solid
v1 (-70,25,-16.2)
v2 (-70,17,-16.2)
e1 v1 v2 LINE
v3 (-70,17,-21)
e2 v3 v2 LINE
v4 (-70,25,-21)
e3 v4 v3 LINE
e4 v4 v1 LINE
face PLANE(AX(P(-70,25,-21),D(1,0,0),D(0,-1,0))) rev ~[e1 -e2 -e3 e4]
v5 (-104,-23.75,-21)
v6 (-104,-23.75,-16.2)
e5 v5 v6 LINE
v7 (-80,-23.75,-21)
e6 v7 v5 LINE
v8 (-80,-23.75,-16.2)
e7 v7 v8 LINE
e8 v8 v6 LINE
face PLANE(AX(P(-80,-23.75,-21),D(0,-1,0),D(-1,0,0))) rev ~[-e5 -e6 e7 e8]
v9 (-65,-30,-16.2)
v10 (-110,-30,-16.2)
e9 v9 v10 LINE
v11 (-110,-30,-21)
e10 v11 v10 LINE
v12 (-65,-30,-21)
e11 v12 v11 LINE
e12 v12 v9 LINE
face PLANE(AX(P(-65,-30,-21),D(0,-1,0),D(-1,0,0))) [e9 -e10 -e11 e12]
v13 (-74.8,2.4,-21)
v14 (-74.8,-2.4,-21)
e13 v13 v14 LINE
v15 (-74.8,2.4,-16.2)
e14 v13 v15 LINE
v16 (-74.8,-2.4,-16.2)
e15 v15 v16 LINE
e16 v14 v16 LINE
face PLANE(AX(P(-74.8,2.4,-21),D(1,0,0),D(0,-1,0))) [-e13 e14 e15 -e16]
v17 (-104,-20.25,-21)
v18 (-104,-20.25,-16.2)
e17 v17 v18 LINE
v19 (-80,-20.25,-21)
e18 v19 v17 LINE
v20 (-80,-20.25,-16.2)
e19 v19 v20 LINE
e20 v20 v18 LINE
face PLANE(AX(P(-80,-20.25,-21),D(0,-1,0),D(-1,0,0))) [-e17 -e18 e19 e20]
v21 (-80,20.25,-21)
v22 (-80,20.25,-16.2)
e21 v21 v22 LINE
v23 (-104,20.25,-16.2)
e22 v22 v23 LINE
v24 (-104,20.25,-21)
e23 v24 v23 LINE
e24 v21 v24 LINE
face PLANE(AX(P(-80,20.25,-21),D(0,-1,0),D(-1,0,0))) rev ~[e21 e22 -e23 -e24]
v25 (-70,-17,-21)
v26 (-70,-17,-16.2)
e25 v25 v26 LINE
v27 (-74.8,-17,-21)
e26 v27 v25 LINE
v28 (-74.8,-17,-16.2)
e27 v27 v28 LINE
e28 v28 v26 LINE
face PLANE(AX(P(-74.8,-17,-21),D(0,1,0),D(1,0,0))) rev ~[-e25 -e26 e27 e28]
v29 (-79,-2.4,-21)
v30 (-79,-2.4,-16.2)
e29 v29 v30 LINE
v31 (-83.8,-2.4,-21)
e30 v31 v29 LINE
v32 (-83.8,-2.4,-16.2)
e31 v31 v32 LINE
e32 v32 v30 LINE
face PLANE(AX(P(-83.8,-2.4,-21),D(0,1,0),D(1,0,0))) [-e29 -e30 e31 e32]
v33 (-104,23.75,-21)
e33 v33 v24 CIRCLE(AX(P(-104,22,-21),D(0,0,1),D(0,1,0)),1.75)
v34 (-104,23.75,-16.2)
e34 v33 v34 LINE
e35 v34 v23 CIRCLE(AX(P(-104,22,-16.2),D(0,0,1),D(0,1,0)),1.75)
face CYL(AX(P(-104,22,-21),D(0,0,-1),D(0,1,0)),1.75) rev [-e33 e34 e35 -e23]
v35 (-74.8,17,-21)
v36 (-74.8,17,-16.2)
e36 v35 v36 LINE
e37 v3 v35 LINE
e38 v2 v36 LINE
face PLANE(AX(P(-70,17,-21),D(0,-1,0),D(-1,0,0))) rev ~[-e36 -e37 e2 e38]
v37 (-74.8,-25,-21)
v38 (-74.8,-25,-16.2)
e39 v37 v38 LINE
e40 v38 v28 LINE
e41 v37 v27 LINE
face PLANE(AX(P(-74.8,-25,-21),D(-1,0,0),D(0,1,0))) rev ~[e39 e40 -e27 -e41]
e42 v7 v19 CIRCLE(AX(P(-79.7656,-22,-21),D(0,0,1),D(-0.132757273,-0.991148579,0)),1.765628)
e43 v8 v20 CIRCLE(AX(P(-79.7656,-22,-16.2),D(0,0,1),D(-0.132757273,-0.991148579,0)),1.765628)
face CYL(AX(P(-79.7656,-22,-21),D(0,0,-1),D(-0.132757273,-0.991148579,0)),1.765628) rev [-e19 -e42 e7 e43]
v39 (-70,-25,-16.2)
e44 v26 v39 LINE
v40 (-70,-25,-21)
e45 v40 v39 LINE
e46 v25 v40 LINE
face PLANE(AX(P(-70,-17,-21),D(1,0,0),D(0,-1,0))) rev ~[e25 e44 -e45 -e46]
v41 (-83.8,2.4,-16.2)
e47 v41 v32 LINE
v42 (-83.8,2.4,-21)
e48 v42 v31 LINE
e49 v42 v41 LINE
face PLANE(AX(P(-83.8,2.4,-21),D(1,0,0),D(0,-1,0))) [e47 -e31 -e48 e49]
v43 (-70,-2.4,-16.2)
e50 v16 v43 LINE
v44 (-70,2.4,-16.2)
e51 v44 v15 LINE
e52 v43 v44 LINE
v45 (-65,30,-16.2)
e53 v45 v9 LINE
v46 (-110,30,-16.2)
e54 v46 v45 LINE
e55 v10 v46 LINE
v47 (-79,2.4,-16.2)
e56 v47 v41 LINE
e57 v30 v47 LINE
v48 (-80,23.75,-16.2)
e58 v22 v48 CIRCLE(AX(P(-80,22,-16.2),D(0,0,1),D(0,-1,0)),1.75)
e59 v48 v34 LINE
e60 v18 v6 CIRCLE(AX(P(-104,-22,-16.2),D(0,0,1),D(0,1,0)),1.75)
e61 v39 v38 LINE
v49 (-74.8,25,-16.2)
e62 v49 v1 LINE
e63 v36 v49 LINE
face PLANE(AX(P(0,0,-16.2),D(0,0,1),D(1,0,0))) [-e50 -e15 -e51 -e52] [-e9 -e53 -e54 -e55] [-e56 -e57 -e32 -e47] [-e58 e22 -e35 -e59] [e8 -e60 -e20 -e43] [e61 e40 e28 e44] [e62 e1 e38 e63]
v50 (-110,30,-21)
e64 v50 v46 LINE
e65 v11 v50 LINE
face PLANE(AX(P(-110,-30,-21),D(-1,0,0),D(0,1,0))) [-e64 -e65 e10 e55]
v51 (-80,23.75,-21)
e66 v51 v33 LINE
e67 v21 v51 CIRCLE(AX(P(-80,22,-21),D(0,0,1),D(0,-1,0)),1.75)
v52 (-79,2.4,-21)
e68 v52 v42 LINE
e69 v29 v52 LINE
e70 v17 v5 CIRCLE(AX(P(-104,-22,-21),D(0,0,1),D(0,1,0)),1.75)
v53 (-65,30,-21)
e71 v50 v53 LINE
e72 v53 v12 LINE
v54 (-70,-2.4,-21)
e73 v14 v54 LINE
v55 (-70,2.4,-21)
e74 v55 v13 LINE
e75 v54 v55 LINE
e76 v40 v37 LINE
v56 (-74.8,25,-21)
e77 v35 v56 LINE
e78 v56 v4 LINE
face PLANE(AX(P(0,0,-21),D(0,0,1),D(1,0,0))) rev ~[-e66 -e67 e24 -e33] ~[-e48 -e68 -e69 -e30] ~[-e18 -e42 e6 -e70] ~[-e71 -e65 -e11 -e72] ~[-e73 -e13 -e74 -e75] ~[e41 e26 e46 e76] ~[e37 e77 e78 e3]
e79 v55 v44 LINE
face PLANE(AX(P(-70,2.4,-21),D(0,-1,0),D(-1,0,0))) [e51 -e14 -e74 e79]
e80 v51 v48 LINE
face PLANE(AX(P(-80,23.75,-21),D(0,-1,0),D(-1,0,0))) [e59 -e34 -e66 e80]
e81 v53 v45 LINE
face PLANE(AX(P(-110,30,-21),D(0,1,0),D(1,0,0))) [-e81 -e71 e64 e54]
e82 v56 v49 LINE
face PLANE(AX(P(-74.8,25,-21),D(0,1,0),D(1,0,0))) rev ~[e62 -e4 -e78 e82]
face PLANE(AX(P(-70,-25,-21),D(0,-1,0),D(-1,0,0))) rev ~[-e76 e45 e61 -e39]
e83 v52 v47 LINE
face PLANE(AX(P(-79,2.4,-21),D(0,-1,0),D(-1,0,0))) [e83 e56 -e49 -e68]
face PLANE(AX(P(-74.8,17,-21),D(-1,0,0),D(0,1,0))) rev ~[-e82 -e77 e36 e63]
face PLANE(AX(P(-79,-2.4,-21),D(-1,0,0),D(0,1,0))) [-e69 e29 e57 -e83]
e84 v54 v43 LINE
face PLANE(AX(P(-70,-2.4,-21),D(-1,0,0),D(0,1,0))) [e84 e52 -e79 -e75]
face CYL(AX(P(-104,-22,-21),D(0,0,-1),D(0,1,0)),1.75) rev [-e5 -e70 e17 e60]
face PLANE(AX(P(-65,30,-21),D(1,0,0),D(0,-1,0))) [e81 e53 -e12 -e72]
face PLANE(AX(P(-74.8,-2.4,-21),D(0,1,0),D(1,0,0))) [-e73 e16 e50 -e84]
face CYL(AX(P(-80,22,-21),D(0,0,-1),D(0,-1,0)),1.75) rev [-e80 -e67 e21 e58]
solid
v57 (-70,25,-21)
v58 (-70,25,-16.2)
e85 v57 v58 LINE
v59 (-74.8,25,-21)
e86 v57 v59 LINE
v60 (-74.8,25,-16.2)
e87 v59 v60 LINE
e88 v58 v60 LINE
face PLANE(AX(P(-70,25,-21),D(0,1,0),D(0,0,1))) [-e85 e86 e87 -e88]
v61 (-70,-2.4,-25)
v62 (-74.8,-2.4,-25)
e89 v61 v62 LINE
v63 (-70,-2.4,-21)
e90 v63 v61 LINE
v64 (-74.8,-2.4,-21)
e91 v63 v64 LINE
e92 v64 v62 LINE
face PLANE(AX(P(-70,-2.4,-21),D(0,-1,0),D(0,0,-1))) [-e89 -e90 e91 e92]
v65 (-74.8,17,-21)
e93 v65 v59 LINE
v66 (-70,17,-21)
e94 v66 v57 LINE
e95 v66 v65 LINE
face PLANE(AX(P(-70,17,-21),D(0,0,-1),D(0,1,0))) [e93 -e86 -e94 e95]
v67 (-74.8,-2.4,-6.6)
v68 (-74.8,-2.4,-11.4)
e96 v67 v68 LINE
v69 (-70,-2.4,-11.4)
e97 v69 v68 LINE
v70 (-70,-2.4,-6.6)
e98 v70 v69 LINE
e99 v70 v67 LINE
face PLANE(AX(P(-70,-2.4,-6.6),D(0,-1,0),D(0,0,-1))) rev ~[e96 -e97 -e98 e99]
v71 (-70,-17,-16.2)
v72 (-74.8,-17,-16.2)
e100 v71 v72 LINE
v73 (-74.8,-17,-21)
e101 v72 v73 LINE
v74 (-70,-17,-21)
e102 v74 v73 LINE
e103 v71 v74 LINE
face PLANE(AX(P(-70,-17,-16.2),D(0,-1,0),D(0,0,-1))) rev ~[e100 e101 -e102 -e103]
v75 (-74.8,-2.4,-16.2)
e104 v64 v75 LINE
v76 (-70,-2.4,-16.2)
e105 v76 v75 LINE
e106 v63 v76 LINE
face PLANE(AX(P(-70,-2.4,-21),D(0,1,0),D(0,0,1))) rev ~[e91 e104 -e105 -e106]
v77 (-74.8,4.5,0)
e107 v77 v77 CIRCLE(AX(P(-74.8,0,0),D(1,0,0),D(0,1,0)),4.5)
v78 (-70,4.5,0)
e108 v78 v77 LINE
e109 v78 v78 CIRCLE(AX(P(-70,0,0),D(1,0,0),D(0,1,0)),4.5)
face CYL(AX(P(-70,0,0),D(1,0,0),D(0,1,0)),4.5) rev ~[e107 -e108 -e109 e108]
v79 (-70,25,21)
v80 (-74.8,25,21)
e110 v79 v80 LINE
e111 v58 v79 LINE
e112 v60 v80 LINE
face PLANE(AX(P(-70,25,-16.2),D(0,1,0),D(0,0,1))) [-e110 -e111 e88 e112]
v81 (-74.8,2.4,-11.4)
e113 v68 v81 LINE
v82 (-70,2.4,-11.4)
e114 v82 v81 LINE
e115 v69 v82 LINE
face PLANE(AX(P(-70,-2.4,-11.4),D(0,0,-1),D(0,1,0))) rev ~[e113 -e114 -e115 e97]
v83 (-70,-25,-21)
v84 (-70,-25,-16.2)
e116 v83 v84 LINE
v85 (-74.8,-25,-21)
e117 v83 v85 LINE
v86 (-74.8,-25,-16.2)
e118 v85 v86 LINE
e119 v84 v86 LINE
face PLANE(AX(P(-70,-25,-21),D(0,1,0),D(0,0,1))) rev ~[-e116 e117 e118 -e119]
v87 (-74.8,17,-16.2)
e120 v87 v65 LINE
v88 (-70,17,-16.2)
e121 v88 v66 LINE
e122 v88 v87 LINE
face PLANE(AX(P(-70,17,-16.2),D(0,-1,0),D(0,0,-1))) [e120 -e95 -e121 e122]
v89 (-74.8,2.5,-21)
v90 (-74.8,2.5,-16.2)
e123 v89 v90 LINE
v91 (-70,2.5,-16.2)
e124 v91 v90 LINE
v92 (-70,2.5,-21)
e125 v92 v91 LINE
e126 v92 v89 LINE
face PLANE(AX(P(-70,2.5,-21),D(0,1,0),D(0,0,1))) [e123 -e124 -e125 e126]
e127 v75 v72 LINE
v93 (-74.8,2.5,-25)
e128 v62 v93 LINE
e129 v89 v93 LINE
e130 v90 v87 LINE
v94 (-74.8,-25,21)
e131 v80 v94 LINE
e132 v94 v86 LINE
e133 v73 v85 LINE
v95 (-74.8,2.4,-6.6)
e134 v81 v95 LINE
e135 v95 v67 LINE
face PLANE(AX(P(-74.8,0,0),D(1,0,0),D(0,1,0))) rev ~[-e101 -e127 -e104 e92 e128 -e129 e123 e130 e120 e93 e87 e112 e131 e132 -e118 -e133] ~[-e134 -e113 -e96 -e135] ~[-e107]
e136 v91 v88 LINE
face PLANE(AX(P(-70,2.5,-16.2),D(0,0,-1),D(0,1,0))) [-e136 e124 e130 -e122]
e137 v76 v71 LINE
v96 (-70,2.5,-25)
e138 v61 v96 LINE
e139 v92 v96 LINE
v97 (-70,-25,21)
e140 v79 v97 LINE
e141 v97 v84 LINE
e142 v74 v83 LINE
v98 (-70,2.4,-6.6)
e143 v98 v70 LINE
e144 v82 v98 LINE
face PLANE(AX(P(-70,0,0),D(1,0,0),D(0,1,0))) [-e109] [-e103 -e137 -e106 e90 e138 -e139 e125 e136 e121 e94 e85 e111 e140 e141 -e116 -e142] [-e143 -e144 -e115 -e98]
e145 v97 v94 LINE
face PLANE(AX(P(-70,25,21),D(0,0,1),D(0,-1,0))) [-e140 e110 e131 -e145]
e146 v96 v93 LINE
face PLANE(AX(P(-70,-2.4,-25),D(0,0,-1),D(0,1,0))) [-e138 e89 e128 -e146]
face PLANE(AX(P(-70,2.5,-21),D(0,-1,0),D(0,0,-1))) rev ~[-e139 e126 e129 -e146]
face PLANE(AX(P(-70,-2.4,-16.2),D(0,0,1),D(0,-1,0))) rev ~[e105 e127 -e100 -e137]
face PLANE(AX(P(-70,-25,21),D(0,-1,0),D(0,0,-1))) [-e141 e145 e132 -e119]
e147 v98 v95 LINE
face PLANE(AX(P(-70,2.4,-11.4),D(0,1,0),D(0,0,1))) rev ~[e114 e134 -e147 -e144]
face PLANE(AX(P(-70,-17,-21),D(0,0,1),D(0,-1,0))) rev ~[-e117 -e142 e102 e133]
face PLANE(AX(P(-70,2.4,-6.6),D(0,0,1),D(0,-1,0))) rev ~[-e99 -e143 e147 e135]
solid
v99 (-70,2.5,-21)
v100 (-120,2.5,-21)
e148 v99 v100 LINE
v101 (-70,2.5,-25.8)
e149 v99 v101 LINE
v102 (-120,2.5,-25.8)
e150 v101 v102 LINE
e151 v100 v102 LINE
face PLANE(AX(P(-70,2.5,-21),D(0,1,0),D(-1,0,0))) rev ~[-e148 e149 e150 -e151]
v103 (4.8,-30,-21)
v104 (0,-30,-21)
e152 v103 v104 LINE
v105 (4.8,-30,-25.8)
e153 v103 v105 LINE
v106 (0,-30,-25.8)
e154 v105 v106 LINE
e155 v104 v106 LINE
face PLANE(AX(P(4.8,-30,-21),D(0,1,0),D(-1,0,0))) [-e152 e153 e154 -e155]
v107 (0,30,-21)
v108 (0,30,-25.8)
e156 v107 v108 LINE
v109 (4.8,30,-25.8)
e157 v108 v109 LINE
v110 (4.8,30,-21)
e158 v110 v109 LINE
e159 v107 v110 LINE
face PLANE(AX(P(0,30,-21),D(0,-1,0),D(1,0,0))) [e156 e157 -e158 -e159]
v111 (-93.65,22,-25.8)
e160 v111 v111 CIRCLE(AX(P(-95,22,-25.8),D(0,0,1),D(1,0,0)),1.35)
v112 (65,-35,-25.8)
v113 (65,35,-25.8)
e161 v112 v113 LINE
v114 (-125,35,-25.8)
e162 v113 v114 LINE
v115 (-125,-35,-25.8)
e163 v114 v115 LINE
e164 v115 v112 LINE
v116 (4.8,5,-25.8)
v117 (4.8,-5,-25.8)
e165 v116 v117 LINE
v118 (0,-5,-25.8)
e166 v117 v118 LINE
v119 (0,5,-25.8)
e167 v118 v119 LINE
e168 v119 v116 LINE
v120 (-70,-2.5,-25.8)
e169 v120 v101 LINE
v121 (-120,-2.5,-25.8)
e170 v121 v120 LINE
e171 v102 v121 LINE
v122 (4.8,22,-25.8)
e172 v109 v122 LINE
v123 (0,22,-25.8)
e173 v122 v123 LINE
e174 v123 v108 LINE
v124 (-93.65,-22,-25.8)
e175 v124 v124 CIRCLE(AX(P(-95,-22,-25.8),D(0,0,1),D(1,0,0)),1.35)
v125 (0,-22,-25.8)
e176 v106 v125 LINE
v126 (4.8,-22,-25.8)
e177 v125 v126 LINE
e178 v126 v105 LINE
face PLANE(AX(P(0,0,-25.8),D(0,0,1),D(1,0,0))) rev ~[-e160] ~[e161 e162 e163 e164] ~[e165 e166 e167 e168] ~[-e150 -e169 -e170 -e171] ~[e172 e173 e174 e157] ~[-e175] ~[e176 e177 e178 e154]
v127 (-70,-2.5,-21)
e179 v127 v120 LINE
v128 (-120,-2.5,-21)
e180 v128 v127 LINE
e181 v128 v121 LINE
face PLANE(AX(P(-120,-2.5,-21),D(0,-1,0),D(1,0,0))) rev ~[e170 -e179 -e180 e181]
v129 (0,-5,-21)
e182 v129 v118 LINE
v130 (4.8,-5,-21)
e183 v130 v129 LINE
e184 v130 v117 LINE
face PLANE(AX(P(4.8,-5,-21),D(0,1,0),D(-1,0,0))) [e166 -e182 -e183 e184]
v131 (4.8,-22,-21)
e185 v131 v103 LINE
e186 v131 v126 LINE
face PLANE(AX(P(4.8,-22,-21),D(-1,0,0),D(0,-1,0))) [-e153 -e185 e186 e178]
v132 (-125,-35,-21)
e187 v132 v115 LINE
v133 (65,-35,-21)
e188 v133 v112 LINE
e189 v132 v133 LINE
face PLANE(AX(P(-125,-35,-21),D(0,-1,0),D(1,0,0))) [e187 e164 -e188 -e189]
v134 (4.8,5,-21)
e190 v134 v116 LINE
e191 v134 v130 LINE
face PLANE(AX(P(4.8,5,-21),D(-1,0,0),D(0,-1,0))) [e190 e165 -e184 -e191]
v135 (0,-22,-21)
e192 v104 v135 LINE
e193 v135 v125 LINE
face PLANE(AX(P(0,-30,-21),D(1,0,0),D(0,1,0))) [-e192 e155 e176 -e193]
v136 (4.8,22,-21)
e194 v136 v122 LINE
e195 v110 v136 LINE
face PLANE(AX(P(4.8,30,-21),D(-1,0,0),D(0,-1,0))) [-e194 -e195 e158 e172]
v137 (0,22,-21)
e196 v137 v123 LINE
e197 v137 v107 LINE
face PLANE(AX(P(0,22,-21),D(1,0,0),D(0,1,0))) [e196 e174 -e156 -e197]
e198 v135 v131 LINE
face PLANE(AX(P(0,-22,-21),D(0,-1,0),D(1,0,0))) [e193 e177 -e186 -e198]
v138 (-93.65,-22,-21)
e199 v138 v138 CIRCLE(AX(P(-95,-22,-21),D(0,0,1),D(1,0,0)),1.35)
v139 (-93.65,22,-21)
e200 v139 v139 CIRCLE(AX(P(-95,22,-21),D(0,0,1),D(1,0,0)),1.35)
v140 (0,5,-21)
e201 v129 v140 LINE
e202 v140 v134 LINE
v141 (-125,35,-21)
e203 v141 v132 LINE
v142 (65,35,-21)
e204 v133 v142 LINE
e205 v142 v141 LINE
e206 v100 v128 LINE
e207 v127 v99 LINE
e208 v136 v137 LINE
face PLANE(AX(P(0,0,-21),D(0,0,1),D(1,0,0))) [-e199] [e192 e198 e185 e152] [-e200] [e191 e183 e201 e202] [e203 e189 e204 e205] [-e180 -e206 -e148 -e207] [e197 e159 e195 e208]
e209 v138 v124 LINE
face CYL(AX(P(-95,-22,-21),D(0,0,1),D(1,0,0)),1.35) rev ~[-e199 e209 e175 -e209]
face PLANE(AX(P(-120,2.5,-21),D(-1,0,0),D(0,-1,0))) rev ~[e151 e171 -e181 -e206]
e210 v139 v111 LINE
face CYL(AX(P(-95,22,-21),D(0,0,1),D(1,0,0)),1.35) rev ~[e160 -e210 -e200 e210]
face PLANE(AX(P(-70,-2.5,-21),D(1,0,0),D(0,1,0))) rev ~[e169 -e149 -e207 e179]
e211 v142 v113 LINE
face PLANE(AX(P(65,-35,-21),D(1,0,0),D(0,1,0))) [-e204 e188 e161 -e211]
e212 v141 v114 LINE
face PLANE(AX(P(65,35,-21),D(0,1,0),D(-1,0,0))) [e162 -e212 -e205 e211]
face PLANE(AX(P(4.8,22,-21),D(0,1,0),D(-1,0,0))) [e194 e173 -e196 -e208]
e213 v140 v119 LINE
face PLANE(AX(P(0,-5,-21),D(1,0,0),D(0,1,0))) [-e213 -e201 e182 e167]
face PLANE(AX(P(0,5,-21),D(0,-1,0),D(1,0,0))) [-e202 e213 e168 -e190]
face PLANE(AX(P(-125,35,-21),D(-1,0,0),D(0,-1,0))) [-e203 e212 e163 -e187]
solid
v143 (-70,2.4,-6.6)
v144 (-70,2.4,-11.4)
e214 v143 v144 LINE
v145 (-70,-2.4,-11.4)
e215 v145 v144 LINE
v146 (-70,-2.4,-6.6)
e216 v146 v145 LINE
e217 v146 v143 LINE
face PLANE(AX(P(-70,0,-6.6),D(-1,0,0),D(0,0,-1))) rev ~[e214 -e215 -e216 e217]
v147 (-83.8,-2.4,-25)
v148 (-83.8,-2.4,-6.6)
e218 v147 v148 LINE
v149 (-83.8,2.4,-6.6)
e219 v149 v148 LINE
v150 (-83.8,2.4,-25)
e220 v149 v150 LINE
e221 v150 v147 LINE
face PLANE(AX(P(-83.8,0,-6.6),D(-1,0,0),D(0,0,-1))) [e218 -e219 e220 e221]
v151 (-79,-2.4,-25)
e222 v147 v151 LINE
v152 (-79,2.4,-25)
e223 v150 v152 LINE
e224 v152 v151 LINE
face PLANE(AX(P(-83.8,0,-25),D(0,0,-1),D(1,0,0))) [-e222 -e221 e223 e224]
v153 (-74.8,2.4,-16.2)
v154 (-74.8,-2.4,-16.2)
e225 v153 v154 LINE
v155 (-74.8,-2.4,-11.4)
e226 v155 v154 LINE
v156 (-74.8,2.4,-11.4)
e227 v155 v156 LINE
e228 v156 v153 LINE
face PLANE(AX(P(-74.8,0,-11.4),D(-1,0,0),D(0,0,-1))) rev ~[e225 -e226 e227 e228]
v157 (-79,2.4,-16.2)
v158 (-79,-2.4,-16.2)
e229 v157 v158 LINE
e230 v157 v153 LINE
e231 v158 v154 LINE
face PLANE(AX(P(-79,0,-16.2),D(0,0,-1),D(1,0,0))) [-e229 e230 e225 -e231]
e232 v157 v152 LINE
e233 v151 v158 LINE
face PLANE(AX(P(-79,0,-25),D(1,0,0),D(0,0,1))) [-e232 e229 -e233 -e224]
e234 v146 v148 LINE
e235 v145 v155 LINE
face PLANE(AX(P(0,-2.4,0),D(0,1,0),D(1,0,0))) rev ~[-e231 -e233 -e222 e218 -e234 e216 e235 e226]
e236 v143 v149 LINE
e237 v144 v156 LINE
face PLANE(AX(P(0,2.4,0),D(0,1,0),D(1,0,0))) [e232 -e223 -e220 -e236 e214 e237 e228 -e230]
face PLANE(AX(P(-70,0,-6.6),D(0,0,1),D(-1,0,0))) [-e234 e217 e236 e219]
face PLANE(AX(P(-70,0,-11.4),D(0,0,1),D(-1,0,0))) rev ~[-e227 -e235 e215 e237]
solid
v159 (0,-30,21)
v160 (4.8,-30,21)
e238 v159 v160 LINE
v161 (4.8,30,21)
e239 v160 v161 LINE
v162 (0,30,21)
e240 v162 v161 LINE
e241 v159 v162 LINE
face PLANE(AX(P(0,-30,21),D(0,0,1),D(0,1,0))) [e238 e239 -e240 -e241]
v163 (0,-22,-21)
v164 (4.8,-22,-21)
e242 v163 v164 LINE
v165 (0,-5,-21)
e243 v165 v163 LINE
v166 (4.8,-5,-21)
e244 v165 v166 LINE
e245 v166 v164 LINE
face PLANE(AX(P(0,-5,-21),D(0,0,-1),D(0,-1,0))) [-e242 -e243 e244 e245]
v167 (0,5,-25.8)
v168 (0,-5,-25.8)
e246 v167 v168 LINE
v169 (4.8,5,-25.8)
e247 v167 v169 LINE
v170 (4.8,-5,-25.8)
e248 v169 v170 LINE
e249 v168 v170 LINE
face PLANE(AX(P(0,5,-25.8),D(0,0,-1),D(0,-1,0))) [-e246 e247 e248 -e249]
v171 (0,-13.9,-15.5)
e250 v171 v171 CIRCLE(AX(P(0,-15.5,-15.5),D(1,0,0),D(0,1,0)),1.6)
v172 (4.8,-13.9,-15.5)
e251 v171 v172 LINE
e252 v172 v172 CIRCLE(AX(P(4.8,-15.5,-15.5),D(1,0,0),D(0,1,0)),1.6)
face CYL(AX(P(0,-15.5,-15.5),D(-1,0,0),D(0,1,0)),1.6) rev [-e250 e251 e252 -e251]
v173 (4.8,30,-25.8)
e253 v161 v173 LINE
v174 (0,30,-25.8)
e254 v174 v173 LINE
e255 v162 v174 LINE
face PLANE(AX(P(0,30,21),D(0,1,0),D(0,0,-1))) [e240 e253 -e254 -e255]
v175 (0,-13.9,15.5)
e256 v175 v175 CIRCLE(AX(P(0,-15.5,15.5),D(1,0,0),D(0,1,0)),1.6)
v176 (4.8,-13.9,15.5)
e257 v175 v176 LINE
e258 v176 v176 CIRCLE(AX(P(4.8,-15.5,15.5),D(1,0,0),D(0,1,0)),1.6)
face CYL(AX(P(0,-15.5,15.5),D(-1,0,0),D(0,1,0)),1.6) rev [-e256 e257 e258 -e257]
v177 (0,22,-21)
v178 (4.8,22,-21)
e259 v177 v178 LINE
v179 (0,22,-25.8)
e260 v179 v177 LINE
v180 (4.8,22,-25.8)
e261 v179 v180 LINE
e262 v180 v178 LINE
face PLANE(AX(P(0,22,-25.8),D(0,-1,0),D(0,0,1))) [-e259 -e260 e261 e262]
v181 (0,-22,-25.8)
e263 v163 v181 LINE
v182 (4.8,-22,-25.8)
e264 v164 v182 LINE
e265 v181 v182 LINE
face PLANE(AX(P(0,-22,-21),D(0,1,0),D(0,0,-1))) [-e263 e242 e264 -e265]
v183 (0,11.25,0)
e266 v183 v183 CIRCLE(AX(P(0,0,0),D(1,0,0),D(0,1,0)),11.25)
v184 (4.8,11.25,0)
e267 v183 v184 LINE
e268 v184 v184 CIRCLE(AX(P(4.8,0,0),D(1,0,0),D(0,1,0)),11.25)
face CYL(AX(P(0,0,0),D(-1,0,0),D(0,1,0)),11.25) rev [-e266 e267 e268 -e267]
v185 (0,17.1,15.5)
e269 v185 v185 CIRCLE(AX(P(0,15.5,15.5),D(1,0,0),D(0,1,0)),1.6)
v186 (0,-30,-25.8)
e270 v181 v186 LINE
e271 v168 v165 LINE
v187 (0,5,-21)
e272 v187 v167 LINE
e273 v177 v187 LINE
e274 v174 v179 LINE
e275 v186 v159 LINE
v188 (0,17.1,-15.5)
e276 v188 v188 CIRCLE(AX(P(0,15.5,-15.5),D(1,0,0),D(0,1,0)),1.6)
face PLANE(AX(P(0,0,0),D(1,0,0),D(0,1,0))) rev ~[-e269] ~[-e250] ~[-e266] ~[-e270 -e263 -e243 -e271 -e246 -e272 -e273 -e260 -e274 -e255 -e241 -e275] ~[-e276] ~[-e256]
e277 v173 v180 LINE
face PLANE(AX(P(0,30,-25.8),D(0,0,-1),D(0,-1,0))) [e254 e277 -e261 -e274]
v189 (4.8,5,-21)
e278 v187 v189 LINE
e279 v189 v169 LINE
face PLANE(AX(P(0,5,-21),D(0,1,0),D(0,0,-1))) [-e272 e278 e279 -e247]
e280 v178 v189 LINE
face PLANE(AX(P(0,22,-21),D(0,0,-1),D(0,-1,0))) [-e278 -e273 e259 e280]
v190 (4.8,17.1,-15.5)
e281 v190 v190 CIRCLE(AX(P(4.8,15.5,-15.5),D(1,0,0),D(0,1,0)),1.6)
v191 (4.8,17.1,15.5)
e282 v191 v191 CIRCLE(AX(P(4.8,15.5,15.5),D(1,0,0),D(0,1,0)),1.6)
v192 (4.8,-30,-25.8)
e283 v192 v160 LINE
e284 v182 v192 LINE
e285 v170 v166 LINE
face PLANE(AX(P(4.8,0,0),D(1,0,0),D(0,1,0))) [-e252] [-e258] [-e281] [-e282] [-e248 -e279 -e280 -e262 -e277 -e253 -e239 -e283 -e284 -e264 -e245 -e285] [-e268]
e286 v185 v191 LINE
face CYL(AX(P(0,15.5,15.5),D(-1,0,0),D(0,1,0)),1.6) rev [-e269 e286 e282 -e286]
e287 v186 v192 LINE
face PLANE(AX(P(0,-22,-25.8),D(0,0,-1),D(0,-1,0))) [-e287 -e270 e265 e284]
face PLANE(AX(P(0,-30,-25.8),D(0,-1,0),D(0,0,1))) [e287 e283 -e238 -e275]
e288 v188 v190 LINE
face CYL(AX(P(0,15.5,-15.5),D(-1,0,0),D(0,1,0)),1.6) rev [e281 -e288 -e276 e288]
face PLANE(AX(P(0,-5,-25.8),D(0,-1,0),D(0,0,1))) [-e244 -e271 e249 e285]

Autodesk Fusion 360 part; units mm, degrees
ref_plane "WorkPlane1" through (0, 0, -21) normal (0, 0, 1) x (1, 0, 0)
ref_plane "WorkPlane2" through (-70, 0, 0) normal (1, 0, 0) x (0, 1, 0)
sketch "nema17_dimensions" plane through (0, 0, 0) normal (1, 0, 0) x (0, 1, 0)
  line L0 (15.5, 15.5) -> (-15.5, 15.5) construction
  line L1 (-15.5, 15.5) -> (-15.5, -15.5) construction
  line L2 (-15.5, -15.5) -> (15.5, -15.5) construction
  line L3 (15.5, -15.5) -> (15.5, 15.5) construction
  line L4 (15.5, 15.5) -> (-15.5, -15.5) construction
  line L5 (-15.5, 15.5) -> (15.5, -15.5) construction
  line L6 (21, 21) -> (-21, 21) construction
  line L7 (-21, 21) -> (-21, -21) construction
  line L8 (-21, -21) -> (21, -21) construction
  line L9 (21, -21) -> (21, 21) construction
  line L10 (21, 21) -> (-21, -21) construction
  line L11 (-21, 21) -> (21, -21) construction
  dimension "d1" = 31
  dimension "d2" = 31
  dimension "d3" = 42
sketch "motor_face" plane through (0, 0, 0) normal (1, 0, 0) x (0, 1, 0)
  circle A0 centre (0, 0) radius 11.25
  circle A1 centre (-15.5, 15.5) radius 1.6
  circle A2 centre (15.5, 15.5) radius 1.6
  circle A3 centre (15.5, -15.5) radius 1.6
  circle A4 centre (-15.5, -15.5) radius 1.6
  line L0 (-30, 21) -> (30, 21)
  line L1 (30, 21) -> (30, -25.8)
  line L2 (30, -25.8) -> (22, -25.8)
  line L3 (22, -25.8) -> (22, -21)
  line L4 (22, -21) -> (5, -21)
  line L5 (5, -21) -> (5, -25.8)
  line L6 (5, -25.8) -> (-5, -25.8)
  line L7 (-5, -25.8) -> (-5, -21)
  line L8 (-5, -21) -> (-22, -21)
  line L9 (-22, -21) -> (-22, -25.8)
  line L10 (-22, -25.8) -> (-30, -25.8)
  line L11 (-30, -25.8) -> (-30, 21)
  point P0 (15.5, 15.5)
  point P1 (-15.5, 15.5)
  point P2 (-15.5, -15.5)
  point P3 (15.5, -15.5)
  dimension "d4" = 22.5
  dimension "d5" = 3.2
  dimension "d6" = 3.2
  dimension "d7" = 3.2
  dimension "d8" = 3.2
  dimension "d9" = 46.8
  dimension "d15" = 60
sketch "base_dimensions" plane through (0, 0, -21) normal (0, 0, 1) x (1, 0, 0)
  line L0 (0, -21) -> (42, -21)
  line L1 (42, -21) -> (42, 21)
  line L2 (42, 21) -> (0, 21)
  line L3 (0, 21) -> (0, -21)
  line L4 (0, -1.5) -> (-12, -1.5)
  line L5 (-12, -1.5) -> (-12, -5)
  line L6 (-12, -5) -> (-32, -5)
  line L7 (-32, -5) -> (-32, 5)
  line L8 (-32, 5) -> (-12, 5)
  line L9 (-12, 5) -> (-12, 1.5)
  line L10 (-12, 1.5) -> (0, 1.5)
  line L11 (-40, -20) -> (-40, 20) construction
  line L12 (-40, -20) -> (-44, -14) construction
  line L13 (-44, -14) -> (-44, 14) construction
  line L14 (-44, 14) -> (-40, 20) construction
  line L15 (-44, -1.5) -> (-49, -1.5) construction
  line L16 (-44, 1.5) -> (-49, 1.5) construction
  line L17 (-49, 1.5) -> (-49, -1.5) construction
  line L18 (-49, -14) -> (-53, -20) construction
  line L19 (-53, -20) -> (-53, 20) construction
  line L20 (-53, 20) -> (-49, 14) construction
  line L21 (-49, 14) -> (-49, -14) construction
  dimension "d16" = 42
  dimension "d17" = 42
sketch "base" plane through (0, 0, -21) normal (0, 0, 1) x (1, 0, 0)
  line L0 (0, 30) -> (4.8, 30)
  line L1 (4.8, 30) -> (4.8, 22)
  line L2 (4.8, 22) -> (0, 22)
  line L3 (0, 22) -> (0, 30)
  line L4 (0, 5) -> (4.8, 5)
  line L5 (4.8, 5) -> (4.8, -5)
  line L6 (4.8, -5) -> (0, -5)
  line L7 (0, -5) -> (0, 5)
  line L8 (0, -22) -> (4.8, -22)
  line L9 (4.8, -22) -> (4.8, -30)
  line L10 (4.8, -30) -> (0, -30)
  line L11 (0, -30) -> (0, -22)
  line L12 (65, 35) -> (-125, 35)
  line L13 (-125, 35) -> (-125, -35)
  line L14 (-125, -35) -> (65, -35)
  line L15 (65, -35) -> (65, 35)
  line L16 (-70, 2.5) -> (-120, 2.5)
  line L17 (-120, 2.5) -> (-120, -2.5)
  line L18 (-120, -2.5) -> (-70, -2.5)
  line L19 (-70, -2.5) -> (-70, 2.5)
  circle A0 centre (-95, -22) radius 1.35
  circle A1 centre (-95, 22) radius 1.35
  point P0 (0, 30)
  point P1 (0, 22)
  point P2 (0, 5)
  point P3 (0, -5)
  point P4 (0, -22)
  point P5 (0, -30)
  point P6 (-95, 0)
  point P7 (-95, 22)
  point P8 (-95, -22)
  dimension "d12" = 4.8
  dimension "d13" = 4.8
  dimension "d14" = 4.8
  dimension "d18" = 50
  dimension "d19" = 5
  dimension "d34" = 2.7
  dimension "d35" = 2.7
sketch "slider_base" plane through (0, 0, -21) normal (0, 0, 1) x (1, 0, 0)
  line L0 (-65, -30) -> (-110, -30)
  line L1 (-110, -30) -> (-110, 30)
  line L2 (-110, 30) -> (-65, 30)
  line L3 (-65, 30) -> (-65, -30)
  line L4 (-70, -25) -> (-74.8, -25)
  line L5 (-74.8, -25) -> (-74.8, -17)
  line L6 (-74.8, -17) -> (-70, -17)
  line L7 (-70, -17) -> (-70, -25)
  line L8 (-70, 25) -> (-70, 17)
  line L9 (-70, 17) -> (-74.8, 17)
  line L10 (-74.8, 17) -> (-74.8, 25)
  line L11 (-74.8, 25) -> (-70, 25)
  line L12 (-70, -17) -> (-70, -25)
  line L13 (-70, -25) -> (-74.8, -25)
  line L14 (-74.8, -25) -> (-74.8, -17)
  line L15 (-74.8, -17) -> (-70, -17)
  line L16 (-70, 2.4) -> (-74.8, 2.4)
  line L17 (-74.8, 2.4) -> (-74.8, -2.4)
  line L18 (-74.8, -2.4) -> (-70, -2.4)
  line L19 (-70, -2.4) -> (-70, 2.4)
  line L20 (-79, -2.4) -> (-79, 2.4)
  line L21 (-79, 2.4) -> (-83.8, 2.4)
  line L22 (-83.8, 2.4) -> (-83.8, -2.4)
  line L23 (-83.8, -2.4) -> (-79, -2.4)
  line L24 (-80, -23.75) -> (-104, -23.75)
  line L25 (-80, -20.25) -> (-104, -20.25)
  line L26 (-80, 20.25) -> (-104, 20.25)
  line L27 (-80, 23.75) -> (-104, 23.75)
  arc A0 (-80, -23.75) -> (-80, -20.25) centre (-79.7656, -22) ccw
  arc A1 (-104, -20.25) -> (-104, -23.75) centre (-104, -22) ccw
  arc A2 (-80, 20.25) -> (-80, 23.75) centre (-80, 22) ccw
  arc A3 (-104, 23.75) -> (-104, 20.25) centre (-104, 22) ccw
  point P0 (-72.4, 0)
  point P1 (-95, -22)
  point P2 (-95, 22)
  dimension "d20" = 4.8
  dimension "d21" = 8
  dimension "d22" = 4.8
  dimension "d23" = 8
  dimension "d24" = 4.8
  dimension "d25" = 8
  dimension "d26" = 4.8
  dimension "d27" = 4.8
  dimension "d28" = 4.8
  dimension "d29" = 4.8
sketch "slider_face" plane through (-70, 0, 0) normal (1, 0, 0) x (0, 1, 0)
  line L0 (2.5, -21) -> (2.5, -25)
  line L1 (-2.4, -21) -> (-2.4, -25)
  line L2 (-2.4, -25) -> (2.5, -25)
  line L3 (2.5, -21) -> (2.5, -16.2)
  line L4 (2.5, -16.2) -> (17, -16.2)
  line L5 (17, -16.2) -> (17, -21)
  line L6 (17, -21) -> (25, -21)
  line L7 (25, -21) -> (25, -16.2)
  line L8 (-2.4, -21) -> (-2.4, -16.2)
  line L9 (-2.4, -16.2) -> (-17, -16.2)
  line L10 (-17, -16.2) -> (-17, -21)
  line L11 (-17, -21) -> (-25, -21)
  line L12 (-25, -21) -> (-25, -16.2)
  line L13 (25, -16.2) -> (25, 21)
  line L14 (25, 21) -> (-25, 21)
  line L15 (-25, 21) -> (-25, -16.2)
  circle A0 centre (0, 0) radius 4.5
  line L16 (-2.4, -11.4) -> (2.4, -11.4)
  line L17 (2.4, -11.4) -> (2.4, -6.6)
  line L18 (2.4, -6.6) -> (-2.4, -6.6)
  line L19 (-2.4, -6.6) -> (-2.4, -11.4)
  point P0 (25, -21)
  point P1 (17, -21)
  point P2 (2.5, -21)
  point P3 (-2.4, -21)
  point P4 (-17, -21)
  point P5 (-25, -21)
  point P6 (0, -9)
  dimension "d37" = 4.8
  dimension "d38" = 9
  dimension "d40" = 4.8
  dimension "d41" = 4.8
sketch "lock_piece" plane through (0, 0, 0) normal (0, 1, 0) x (1, 0, 0)
  line L0 (-70, 6.6) -> (-83.8, 6.6)
  line L1 (-83.8, 6.6) -> (-83.8, 21)
  line L2 (-83.8, 21) -> (-83.8, 25)
  line L3 (-83.8, 25) -> (-79, 25)
  line L4 (-79, 25) -> (-79, 21)
  line L5 (-79, 21) -> (-79, 16.2)
  line L6 (-70, 16.2) -> (-70, 11.4)
  line L7 (-70, 11.4) -> (-74.8, 11.4)
  line L8 (-74.8, 11.4) -> (-74.8, 16.2)
  line L9 (-79, 16.2) -> (-74.8, 16.2)
  line L10 (-70, 6.6) -> (-70, 11.4)
  point P0 (-70, 6.6)
  point P1 (-70, 11.4)
  point P2 (-70, 16.2)
  point P3 (-79, 21)
  point P4 (-83.8, 21)
  dimension "d42" = 4
  dimension "d43" = 4.8
extrude "Extrude1" add sketch "base" against normal blind 4.8 makes body 1
extrude "Extrude2" add sketch "motor_face" along normal blind 4.8 separate body makes body 2
extrude "Extrude3" add sketch "slider_base" along normal blind 4.8 separate body makes body 3
extrude "Extrude4" add sketch "slider_face" against normal blind 4.8 separate body makes body 4
extrude "Extrude5" add sketch "lock_piece" along normal mid plane 4.8 separate body makes body 5
equation "ply_medium = 4.8 mm"
equation "d12 = ply_medium"
equation "d13 = ply_medium"
equation "d14 = ply_medium"
equation "d19 = ply_medium + 0.2 mm"
equation "d20 = ply_medium"
equation "d22 = ply_medium"
equation "d24 = ply_medium"
equation "d26 = ply_medium"
equation "d27 = ply_medium"
equation "d28 = ply_medium"
equation "d29 = ply_medium"
equation "d37 = ply_medium"
equation "d38 = tiny_bearing_od"
equation "tiny_bearing_od = 9 mm"
equation "d40 = ply_medium"
equation "d41 = ply_medium"
equation "d43 = ply_medium"
equation "d44 = -ply_medium"
equation "d46 = ply_medium"
equation "d48 = ply_medium"
equation "d50 = -ply_medium"
equation "d52 = ply_medium / 2"
